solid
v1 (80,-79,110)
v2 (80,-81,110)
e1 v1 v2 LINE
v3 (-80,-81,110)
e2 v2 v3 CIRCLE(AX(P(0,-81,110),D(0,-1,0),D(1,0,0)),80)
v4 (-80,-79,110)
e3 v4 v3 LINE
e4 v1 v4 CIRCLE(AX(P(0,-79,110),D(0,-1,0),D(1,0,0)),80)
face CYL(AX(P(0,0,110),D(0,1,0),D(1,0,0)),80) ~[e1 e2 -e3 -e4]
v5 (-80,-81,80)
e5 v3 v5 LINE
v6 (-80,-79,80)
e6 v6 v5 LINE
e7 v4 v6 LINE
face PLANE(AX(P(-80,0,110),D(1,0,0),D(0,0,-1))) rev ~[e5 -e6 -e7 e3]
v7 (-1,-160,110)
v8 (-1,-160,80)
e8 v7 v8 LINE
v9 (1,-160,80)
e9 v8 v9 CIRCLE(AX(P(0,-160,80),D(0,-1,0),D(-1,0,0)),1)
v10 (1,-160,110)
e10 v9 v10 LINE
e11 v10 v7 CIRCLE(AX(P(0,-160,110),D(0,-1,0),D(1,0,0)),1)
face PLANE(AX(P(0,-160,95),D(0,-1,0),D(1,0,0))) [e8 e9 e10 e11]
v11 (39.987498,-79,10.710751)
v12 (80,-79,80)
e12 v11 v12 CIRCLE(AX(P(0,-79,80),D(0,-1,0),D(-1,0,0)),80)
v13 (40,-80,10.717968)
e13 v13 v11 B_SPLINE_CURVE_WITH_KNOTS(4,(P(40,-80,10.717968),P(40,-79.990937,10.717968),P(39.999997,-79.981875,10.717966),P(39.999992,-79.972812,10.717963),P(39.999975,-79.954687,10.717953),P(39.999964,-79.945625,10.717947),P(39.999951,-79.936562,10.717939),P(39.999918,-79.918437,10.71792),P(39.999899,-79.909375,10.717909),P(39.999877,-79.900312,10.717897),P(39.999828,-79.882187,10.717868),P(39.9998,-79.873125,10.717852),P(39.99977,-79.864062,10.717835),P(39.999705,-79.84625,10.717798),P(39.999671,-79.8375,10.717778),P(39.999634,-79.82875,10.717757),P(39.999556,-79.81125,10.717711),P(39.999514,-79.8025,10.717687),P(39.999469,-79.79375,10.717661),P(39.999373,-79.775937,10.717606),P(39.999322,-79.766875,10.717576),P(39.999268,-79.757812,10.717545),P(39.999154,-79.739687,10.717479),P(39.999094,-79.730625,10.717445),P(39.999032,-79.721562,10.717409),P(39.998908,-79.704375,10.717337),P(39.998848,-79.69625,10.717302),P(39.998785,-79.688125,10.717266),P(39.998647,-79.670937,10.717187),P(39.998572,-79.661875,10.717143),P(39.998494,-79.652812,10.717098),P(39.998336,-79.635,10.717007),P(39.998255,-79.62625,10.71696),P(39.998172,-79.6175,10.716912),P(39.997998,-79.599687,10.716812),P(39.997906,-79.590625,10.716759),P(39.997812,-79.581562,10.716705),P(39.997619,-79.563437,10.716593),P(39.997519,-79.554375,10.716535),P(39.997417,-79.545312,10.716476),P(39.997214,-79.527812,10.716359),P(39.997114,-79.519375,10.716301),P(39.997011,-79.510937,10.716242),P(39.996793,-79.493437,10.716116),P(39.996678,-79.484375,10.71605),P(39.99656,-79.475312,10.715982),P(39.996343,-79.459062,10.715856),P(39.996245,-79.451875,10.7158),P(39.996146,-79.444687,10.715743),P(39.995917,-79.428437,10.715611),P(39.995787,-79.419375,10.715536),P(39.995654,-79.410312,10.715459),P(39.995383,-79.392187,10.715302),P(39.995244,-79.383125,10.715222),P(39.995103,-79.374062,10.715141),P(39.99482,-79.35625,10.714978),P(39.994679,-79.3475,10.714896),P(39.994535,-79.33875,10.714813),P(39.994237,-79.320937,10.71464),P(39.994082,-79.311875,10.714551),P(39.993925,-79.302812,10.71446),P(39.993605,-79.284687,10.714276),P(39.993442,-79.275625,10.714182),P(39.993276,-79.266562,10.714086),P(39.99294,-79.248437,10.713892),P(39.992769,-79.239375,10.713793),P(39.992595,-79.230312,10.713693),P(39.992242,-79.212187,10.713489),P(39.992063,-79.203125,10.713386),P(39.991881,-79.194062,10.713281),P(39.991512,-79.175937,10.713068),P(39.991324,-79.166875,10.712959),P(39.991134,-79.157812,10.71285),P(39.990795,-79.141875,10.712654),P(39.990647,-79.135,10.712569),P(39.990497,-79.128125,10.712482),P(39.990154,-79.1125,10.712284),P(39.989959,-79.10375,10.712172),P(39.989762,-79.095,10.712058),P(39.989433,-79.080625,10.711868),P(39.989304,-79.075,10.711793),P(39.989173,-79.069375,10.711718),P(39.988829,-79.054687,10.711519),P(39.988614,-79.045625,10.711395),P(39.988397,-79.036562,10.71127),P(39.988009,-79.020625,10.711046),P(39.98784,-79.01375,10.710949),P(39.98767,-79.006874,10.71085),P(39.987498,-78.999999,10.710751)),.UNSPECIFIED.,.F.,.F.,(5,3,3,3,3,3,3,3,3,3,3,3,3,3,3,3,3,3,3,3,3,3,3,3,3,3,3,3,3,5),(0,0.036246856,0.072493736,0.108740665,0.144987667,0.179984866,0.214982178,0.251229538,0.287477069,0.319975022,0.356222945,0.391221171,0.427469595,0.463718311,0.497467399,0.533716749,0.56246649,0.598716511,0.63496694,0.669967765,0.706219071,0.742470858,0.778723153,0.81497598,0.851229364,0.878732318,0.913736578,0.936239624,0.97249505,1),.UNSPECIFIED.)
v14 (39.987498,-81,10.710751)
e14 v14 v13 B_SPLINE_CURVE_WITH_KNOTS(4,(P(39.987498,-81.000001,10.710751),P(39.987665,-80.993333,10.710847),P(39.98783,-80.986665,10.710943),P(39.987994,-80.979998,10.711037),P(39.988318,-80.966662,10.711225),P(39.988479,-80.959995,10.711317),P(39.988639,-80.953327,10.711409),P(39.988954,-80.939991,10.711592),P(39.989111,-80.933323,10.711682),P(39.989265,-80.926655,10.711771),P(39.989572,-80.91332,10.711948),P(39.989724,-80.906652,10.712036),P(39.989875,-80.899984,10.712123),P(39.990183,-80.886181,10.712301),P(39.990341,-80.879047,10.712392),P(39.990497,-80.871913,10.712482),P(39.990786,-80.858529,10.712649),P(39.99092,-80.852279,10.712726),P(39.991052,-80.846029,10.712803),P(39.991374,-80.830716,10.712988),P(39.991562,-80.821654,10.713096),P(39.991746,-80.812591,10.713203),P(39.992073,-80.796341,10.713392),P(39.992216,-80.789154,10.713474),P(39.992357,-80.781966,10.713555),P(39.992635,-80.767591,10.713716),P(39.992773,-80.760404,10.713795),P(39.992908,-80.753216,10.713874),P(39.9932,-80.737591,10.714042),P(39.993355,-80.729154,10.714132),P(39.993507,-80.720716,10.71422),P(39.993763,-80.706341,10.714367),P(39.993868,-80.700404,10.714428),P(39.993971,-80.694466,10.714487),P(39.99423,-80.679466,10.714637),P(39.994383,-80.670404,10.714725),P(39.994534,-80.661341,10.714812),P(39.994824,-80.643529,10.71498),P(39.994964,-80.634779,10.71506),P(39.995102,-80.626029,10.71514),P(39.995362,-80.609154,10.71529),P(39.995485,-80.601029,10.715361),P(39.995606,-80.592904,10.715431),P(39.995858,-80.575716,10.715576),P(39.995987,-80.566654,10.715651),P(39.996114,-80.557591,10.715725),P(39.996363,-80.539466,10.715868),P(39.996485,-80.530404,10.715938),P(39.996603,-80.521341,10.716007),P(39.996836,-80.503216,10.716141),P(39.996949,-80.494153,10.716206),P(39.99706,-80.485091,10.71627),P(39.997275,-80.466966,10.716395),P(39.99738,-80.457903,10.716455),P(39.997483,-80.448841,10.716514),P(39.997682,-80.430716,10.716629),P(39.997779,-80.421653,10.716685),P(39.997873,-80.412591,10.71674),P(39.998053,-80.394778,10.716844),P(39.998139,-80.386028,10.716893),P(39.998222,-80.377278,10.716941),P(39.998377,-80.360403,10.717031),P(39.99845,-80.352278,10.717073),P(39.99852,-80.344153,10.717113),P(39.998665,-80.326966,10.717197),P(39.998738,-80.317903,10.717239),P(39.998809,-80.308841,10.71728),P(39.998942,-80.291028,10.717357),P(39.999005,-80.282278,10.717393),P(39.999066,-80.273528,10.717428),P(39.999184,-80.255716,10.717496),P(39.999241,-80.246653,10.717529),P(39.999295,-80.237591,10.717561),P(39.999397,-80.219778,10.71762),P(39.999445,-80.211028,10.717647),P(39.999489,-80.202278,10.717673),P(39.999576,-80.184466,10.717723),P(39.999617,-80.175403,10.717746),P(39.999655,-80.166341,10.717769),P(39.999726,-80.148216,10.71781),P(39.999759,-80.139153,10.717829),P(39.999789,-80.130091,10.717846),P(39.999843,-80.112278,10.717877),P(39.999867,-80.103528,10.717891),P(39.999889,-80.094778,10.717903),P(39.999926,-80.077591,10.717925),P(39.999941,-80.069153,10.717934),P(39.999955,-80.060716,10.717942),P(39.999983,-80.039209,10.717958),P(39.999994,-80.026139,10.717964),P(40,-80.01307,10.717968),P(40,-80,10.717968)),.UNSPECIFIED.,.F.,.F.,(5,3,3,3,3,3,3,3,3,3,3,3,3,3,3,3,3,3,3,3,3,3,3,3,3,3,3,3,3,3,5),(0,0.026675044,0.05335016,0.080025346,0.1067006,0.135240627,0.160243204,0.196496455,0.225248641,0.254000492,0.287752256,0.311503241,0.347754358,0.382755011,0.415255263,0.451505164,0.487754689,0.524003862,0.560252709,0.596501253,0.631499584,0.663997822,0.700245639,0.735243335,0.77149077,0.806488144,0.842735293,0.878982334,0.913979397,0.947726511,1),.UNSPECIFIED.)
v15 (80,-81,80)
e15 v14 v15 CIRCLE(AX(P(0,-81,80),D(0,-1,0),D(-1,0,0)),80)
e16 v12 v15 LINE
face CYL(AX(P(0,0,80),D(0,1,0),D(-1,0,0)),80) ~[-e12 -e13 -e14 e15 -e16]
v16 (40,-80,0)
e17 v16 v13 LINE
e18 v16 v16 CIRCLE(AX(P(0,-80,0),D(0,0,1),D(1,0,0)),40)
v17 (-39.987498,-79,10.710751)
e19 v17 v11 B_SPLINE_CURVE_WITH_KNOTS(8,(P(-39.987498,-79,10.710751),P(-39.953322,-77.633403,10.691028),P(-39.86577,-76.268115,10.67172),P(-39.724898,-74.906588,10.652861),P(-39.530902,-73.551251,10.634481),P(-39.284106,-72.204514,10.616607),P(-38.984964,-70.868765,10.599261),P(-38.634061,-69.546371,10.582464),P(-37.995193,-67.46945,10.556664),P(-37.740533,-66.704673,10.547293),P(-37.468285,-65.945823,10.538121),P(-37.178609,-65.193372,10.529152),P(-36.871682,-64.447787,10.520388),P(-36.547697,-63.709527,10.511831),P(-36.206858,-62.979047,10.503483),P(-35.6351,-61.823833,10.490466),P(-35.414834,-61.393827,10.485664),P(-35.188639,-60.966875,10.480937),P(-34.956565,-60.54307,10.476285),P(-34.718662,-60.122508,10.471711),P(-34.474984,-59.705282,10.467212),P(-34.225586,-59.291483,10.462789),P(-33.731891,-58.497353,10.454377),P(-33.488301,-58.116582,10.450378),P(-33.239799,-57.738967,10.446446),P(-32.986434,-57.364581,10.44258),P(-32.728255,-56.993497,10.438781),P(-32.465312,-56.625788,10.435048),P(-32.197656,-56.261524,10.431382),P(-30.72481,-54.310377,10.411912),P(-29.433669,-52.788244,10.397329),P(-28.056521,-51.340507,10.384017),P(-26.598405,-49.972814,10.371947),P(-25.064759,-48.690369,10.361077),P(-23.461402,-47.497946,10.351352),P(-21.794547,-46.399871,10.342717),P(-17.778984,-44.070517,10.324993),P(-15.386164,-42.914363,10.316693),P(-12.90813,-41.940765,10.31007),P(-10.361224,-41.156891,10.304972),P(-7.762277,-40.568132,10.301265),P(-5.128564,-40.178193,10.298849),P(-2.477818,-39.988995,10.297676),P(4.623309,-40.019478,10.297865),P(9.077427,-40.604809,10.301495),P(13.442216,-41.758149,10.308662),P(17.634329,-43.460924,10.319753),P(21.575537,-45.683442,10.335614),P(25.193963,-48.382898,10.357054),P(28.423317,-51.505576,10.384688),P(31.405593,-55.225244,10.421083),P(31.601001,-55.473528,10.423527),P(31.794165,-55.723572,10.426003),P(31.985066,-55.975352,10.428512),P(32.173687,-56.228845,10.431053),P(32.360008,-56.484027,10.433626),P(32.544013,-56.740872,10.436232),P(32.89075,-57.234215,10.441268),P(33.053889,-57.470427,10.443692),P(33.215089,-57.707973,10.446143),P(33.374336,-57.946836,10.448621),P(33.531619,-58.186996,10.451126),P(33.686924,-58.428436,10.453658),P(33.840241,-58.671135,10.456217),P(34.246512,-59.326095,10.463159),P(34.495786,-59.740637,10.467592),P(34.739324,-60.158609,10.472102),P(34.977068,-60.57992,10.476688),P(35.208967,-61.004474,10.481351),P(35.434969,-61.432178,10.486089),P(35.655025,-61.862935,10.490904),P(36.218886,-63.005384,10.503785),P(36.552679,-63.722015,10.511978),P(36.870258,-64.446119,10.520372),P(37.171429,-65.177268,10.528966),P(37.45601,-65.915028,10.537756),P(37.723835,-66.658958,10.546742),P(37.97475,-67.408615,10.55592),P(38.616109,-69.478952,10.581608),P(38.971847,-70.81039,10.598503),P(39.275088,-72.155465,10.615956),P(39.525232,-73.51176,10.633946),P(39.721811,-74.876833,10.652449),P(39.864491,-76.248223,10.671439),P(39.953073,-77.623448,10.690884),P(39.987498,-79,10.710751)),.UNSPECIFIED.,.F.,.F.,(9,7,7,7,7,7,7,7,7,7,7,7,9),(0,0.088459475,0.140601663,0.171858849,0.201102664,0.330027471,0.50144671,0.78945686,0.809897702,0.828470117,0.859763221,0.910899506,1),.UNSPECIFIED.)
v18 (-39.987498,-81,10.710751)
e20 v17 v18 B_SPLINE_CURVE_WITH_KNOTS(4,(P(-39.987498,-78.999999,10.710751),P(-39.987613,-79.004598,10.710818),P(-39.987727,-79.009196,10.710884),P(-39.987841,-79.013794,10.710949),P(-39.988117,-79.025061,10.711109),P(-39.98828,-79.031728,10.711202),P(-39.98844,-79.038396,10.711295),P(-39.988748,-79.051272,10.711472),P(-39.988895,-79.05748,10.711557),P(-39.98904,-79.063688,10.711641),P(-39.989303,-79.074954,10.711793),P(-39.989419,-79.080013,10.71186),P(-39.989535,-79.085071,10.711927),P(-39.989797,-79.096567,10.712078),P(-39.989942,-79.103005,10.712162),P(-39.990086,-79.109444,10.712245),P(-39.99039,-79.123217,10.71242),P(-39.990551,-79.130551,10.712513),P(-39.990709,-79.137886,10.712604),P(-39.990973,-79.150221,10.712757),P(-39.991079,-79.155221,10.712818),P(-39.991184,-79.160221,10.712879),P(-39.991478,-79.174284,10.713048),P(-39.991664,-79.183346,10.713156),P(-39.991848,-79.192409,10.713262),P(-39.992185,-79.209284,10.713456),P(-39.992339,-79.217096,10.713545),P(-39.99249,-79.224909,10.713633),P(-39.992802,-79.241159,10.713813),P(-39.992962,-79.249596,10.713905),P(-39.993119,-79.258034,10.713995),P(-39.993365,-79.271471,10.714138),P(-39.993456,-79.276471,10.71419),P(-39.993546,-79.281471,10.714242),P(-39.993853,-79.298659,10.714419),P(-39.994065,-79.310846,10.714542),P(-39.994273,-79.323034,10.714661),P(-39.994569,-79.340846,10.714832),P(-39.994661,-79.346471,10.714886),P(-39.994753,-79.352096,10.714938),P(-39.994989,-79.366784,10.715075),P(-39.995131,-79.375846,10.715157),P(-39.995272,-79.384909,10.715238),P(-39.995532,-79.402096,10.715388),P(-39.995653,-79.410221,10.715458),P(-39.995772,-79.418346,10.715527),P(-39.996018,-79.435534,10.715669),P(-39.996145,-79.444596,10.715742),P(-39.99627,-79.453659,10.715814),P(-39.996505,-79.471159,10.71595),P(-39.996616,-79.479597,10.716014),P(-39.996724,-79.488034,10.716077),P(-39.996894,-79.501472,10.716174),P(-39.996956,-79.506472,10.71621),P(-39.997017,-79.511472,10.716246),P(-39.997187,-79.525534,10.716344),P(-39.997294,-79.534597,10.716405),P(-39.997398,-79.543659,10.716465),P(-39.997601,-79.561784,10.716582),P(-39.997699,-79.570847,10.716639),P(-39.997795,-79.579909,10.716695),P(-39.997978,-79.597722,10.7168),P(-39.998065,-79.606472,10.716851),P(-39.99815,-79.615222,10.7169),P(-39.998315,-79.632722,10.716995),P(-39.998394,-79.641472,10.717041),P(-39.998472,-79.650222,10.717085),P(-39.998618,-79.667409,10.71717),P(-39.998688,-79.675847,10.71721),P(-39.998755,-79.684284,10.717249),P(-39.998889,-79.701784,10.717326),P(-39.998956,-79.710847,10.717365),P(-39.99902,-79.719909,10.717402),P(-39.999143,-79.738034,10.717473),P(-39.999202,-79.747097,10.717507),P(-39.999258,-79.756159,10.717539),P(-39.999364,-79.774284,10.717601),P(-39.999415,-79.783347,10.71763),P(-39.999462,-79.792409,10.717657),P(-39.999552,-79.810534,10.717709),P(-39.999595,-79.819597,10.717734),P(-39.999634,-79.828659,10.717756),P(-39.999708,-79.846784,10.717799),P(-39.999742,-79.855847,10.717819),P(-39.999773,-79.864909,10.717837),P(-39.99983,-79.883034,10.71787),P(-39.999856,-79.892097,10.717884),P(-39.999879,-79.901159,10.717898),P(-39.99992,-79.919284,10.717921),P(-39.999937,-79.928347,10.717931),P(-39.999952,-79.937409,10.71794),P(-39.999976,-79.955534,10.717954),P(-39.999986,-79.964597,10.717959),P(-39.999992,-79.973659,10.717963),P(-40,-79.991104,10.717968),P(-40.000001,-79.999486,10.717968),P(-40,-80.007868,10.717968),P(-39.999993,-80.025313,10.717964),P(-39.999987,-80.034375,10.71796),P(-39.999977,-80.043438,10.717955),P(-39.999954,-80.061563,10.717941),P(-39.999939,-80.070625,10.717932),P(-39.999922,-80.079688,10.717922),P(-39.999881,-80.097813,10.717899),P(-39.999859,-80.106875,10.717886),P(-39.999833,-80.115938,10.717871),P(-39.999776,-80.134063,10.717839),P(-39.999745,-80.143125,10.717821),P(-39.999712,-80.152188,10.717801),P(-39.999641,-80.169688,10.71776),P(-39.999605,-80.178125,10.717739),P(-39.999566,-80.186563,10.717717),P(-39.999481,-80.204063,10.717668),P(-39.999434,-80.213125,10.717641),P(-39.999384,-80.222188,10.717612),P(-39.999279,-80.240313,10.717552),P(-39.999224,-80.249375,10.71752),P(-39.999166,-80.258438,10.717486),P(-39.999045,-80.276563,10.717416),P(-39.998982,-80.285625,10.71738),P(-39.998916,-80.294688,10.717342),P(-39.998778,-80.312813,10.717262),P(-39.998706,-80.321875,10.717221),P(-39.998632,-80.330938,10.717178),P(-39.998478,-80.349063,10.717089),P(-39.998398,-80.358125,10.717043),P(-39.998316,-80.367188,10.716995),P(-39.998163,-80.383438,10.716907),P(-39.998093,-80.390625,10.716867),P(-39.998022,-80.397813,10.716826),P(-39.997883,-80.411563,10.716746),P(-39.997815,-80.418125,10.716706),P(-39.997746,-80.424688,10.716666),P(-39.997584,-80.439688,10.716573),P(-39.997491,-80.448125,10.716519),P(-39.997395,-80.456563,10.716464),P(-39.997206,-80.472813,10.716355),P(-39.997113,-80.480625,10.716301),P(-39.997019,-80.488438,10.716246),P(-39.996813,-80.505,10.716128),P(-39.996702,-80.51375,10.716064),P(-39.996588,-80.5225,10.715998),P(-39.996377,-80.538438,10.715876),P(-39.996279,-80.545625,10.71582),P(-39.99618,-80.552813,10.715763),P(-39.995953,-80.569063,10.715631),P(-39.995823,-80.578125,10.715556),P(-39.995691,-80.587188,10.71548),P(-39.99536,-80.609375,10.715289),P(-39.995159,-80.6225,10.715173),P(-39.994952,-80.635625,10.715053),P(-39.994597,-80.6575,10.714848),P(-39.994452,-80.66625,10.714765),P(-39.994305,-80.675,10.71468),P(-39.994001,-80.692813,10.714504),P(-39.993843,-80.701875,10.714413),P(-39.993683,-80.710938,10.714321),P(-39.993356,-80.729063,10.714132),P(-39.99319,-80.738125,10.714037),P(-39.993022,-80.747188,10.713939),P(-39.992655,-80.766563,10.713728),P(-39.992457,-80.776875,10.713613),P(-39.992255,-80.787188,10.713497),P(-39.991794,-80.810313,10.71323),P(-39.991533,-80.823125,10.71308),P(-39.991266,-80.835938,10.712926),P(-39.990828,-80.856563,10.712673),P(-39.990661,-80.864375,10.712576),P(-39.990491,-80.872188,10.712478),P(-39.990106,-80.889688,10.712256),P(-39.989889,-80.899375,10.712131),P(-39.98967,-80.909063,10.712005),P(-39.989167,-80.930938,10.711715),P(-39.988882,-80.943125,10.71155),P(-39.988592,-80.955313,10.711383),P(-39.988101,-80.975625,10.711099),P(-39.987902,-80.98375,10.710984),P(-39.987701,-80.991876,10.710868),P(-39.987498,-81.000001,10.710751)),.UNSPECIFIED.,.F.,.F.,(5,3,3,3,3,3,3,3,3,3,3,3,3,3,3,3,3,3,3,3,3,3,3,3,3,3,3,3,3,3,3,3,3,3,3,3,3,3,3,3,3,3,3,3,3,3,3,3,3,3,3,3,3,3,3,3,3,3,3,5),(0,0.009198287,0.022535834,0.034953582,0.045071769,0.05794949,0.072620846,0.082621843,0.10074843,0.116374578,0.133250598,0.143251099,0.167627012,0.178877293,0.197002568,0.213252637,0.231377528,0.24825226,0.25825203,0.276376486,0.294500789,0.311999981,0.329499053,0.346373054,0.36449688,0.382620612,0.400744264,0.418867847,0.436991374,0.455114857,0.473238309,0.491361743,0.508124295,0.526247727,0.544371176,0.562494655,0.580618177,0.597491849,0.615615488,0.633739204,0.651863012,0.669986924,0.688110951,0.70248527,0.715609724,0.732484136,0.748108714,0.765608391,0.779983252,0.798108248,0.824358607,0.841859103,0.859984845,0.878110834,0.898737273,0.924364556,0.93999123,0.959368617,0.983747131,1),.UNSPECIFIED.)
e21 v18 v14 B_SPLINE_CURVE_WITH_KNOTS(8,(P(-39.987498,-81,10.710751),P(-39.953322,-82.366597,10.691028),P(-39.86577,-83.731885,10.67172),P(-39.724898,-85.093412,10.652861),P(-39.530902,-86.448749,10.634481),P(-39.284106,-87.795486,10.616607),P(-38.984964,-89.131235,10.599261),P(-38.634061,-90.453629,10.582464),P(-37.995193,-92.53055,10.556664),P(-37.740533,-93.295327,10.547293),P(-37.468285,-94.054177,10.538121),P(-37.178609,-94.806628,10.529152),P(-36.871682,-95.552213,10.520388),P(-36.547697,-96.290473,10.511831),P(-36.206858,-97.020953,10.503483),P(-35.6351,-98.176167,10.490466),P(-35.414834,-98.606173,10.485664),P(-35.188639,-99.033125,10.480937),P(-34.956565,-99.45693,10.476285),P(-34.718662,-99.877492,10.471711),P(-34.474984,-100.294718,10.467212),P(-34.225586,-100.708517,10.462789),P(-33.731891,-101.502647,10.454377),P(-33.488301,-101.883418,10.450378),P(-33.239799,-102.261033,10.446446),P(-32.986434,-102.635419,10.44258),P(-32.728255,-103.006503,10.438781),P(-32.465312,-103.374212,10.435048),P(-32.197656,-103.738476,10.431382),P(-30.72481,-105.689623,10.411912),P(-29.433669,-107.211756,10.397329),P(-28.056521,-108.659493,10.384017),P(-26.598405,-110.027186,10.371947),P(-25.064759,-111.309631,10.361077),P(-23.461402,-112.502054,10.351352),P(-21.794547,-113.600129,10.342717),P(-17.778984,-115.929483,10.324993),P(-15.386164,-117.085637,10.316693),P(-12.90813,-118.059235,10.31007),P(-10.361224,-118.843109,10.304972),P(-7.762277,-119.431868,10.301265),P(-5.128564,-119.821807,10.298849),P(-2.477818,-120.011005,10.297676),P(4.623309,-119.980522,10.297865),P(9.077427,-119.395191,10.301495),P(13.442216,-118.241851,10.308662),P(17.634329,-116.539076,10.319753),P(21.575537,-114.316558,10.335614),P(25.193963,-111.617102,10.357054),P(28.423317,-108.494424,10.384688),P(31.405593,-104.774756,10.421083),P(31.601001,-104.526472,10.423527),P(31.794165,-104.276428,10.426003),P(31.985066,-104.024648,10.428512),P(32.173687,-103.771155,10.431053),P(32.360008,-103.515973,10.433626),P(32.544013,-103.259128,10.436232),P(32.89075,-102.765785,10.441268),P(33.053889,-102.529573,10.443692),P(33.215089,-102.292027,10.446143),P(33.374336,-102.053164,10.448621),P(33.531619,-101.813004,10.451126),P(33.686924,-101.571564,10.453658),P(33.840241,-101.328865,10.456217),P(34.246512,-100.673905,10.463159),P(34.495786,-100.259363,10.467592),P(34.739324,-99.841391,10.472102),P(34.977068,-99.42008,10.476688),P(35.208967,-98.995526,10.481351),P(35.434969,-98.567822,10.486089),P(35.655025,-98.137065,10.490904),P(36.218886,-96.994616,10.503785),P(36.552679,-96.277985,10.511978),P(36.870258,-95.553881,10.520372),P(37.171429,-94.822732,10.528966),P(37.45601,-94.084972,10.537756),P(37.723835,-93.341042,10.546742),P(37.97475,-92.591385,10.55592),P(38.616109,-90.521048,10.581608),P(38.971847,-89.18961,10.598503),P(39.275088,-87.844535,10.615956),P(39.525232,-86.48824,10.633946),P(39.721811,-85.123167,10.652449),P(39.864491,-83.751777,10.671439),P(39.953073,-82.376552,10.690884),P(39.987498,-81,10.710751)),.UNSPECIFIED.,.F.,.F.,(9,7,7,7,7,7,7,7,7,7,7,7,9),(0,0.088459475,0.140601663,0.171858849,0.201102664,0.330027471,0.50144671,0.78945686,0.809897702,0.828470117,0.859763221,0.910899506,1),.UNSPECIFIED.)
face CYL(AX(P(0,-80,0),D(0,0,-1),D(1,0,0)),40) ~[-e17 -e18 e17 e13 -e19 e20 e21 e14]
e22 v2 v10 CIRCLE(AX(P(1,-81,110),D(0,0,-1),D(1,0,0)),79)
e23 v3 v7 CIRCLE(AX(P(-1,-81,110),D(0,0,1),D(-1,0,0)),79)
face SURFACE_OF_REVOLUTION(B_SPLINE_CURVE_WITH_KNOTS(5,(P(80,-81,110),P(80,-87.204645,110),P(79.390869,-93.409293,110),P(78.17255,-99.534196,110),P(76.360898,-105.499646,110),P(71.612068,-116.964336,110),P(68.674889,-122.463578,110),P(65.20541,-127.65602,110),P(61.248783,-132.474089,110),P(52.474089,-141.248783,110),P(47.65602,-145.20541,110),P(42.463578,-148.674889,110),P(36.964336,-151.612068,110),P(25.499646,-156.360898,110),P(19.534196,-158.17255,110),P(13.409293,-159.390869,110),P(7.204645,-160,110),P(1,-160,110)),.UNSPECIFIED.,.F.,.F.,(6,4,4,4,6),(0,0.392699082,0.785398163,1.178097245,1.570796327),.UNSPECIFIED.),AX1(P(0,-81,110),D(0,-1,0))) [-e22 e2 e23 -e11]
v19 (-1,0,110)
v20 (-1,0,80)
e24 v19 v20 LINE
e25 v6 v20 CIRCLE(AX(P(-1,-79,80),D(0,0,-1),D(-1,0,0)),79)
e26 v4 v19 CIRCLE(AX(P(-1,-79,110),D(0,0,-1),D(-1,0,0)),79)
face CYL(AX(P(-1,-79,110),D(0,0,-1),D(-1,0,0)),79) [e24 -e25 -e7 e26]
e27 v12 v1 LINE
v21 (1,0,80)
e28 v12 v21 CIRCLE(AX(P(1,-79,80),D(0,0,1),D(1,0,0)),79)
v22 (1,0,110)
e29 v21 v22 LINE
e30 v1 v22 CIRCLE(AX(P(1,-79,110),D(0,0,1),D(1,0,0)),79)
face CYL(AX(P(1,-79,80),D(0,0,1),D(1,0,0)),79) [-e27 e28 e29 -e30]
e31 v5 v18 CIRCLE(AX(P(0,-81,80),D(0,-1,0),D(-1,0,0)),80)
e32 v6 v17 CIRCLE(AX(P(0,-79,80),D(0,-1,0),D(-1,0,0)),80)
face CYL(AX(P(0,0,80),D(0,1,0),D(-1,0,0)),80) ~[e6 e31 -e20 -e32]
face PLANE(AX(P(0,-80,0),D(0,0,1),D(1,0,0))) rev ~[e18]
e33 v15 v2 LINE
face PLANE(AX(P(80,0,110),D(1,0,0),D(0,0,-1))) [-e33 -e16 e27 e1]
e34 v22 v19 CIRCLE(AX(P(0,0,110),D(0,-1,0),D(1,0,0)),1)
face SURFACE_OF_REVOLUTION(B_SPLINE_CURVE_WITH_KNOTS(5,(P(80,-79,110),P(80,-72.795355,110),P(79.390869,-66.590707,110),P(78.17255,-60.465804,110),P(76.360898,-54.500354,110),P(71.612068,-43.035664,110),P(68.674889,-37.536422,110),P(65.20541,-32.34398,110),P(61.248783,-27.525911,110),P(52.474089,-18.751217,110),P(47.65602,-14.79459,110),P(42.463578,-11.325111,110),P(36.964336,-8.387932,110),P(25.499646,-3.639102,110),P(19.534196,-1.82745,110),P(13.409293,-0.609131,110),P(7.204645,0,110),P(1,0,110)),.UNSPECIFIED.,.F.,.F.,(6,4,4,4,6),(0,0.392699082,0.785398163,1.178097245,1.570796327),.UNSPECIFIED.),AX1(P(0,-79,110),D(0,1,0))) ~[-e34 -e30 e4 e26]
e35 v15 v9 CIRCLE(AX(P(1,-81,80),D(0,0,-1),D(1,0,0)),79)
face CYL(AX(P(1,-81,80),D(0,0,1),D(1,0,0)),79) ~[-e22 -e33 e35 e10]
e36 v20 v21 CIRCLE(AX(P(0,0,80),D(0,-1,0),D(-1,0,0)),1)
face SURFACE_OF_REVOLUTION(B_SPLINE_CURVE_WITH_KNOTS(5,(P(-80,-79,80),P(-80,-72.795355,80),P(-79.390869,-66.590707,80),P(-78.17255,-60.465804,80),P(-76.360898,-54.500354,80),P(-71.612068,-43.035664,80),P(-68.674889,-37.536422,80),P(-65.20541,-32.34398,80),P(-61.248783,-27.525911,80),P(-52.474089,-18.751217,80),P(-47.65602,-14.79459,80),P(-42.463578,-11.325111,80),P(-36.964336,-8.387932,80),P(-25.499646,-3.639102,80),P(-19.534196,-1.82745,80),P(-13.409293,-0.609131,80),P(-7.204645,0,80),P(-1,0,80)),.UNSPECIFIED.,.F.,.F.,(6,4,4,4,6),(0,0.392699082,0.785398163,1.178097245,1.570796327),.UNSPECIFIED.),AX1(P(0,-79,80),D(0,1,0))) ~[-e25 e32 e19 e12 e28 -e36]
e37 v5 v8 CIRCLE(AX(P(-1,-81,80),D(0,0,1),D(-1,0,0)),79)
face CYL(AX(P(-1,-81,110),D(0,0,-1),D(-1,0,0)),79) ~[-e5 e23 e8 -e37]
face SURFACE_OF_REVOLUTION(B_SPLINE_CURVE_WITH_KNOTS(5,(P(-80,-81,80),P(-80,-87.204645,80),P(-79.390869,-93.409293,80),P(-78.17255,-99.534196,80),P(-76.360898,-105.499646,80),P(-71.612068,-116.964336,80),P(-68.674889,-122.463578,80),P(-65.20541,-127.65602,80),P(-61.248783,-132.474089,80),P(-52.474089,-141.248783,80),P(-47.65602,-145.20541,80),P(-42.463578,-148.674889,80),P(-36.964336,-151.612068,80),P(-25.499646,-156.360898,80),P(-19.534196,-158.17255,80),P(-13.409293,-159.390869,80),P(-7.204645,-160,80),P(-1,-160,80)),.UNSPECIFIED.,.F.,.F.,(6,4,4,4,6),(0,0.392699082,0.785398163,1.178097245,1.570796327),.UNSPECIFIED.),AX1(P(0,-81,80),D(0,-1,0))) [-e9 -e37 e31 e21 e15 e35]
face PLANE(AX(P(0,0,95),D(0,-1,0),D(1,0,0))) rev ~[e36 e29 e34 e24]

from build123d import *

# Parameters (mm, degrees)
PAD002_DEPTH   = 160
FILLET004_R    = 79
CYLINDER_R     = 40
CYLINDER_DEPTH = 47.5


with BuildPart() as part:
    # Sketch010 → Pad002 (new body)
    with BuildSketch(Plane.XZ):
        with BuildLine():
            ThreePointArc((80, 110), (0, 190), (-80, 110))
            Line((-80, 110), (-80, 80))
            ThreePointArc((-80, 80), (0, 0), (80, 80))
            Line((80, 110), (80, 80))
        make_face()
    extrude(amount=PAD002_DEPTH)

    # Fillet004
    fillet004_edges = [part.edges().sort_by_distance(p)[0] for p in [
        (0, 0, 190),
        (-80, 0, 95),
        (0, 0, 0),
        (80, 0, 95),
        (0, -160, 190),
        (-80, -160, 95),
        (0, -160, 0),
        (80, -160, 95),
    ]]
    fillet(fillet004_edges, radius=FILLET004_R)

    # Cylinder → Cylinder (join)
    with BuildSketch(Plane(origin=(0, -80, 0), x_dir=(1, 0, 0), z_dir=(0, 0, 1))):
        Circle(CYLINDER_R)
    extrude(amount=CYLINDER_DEPTH)


solid = part.part
